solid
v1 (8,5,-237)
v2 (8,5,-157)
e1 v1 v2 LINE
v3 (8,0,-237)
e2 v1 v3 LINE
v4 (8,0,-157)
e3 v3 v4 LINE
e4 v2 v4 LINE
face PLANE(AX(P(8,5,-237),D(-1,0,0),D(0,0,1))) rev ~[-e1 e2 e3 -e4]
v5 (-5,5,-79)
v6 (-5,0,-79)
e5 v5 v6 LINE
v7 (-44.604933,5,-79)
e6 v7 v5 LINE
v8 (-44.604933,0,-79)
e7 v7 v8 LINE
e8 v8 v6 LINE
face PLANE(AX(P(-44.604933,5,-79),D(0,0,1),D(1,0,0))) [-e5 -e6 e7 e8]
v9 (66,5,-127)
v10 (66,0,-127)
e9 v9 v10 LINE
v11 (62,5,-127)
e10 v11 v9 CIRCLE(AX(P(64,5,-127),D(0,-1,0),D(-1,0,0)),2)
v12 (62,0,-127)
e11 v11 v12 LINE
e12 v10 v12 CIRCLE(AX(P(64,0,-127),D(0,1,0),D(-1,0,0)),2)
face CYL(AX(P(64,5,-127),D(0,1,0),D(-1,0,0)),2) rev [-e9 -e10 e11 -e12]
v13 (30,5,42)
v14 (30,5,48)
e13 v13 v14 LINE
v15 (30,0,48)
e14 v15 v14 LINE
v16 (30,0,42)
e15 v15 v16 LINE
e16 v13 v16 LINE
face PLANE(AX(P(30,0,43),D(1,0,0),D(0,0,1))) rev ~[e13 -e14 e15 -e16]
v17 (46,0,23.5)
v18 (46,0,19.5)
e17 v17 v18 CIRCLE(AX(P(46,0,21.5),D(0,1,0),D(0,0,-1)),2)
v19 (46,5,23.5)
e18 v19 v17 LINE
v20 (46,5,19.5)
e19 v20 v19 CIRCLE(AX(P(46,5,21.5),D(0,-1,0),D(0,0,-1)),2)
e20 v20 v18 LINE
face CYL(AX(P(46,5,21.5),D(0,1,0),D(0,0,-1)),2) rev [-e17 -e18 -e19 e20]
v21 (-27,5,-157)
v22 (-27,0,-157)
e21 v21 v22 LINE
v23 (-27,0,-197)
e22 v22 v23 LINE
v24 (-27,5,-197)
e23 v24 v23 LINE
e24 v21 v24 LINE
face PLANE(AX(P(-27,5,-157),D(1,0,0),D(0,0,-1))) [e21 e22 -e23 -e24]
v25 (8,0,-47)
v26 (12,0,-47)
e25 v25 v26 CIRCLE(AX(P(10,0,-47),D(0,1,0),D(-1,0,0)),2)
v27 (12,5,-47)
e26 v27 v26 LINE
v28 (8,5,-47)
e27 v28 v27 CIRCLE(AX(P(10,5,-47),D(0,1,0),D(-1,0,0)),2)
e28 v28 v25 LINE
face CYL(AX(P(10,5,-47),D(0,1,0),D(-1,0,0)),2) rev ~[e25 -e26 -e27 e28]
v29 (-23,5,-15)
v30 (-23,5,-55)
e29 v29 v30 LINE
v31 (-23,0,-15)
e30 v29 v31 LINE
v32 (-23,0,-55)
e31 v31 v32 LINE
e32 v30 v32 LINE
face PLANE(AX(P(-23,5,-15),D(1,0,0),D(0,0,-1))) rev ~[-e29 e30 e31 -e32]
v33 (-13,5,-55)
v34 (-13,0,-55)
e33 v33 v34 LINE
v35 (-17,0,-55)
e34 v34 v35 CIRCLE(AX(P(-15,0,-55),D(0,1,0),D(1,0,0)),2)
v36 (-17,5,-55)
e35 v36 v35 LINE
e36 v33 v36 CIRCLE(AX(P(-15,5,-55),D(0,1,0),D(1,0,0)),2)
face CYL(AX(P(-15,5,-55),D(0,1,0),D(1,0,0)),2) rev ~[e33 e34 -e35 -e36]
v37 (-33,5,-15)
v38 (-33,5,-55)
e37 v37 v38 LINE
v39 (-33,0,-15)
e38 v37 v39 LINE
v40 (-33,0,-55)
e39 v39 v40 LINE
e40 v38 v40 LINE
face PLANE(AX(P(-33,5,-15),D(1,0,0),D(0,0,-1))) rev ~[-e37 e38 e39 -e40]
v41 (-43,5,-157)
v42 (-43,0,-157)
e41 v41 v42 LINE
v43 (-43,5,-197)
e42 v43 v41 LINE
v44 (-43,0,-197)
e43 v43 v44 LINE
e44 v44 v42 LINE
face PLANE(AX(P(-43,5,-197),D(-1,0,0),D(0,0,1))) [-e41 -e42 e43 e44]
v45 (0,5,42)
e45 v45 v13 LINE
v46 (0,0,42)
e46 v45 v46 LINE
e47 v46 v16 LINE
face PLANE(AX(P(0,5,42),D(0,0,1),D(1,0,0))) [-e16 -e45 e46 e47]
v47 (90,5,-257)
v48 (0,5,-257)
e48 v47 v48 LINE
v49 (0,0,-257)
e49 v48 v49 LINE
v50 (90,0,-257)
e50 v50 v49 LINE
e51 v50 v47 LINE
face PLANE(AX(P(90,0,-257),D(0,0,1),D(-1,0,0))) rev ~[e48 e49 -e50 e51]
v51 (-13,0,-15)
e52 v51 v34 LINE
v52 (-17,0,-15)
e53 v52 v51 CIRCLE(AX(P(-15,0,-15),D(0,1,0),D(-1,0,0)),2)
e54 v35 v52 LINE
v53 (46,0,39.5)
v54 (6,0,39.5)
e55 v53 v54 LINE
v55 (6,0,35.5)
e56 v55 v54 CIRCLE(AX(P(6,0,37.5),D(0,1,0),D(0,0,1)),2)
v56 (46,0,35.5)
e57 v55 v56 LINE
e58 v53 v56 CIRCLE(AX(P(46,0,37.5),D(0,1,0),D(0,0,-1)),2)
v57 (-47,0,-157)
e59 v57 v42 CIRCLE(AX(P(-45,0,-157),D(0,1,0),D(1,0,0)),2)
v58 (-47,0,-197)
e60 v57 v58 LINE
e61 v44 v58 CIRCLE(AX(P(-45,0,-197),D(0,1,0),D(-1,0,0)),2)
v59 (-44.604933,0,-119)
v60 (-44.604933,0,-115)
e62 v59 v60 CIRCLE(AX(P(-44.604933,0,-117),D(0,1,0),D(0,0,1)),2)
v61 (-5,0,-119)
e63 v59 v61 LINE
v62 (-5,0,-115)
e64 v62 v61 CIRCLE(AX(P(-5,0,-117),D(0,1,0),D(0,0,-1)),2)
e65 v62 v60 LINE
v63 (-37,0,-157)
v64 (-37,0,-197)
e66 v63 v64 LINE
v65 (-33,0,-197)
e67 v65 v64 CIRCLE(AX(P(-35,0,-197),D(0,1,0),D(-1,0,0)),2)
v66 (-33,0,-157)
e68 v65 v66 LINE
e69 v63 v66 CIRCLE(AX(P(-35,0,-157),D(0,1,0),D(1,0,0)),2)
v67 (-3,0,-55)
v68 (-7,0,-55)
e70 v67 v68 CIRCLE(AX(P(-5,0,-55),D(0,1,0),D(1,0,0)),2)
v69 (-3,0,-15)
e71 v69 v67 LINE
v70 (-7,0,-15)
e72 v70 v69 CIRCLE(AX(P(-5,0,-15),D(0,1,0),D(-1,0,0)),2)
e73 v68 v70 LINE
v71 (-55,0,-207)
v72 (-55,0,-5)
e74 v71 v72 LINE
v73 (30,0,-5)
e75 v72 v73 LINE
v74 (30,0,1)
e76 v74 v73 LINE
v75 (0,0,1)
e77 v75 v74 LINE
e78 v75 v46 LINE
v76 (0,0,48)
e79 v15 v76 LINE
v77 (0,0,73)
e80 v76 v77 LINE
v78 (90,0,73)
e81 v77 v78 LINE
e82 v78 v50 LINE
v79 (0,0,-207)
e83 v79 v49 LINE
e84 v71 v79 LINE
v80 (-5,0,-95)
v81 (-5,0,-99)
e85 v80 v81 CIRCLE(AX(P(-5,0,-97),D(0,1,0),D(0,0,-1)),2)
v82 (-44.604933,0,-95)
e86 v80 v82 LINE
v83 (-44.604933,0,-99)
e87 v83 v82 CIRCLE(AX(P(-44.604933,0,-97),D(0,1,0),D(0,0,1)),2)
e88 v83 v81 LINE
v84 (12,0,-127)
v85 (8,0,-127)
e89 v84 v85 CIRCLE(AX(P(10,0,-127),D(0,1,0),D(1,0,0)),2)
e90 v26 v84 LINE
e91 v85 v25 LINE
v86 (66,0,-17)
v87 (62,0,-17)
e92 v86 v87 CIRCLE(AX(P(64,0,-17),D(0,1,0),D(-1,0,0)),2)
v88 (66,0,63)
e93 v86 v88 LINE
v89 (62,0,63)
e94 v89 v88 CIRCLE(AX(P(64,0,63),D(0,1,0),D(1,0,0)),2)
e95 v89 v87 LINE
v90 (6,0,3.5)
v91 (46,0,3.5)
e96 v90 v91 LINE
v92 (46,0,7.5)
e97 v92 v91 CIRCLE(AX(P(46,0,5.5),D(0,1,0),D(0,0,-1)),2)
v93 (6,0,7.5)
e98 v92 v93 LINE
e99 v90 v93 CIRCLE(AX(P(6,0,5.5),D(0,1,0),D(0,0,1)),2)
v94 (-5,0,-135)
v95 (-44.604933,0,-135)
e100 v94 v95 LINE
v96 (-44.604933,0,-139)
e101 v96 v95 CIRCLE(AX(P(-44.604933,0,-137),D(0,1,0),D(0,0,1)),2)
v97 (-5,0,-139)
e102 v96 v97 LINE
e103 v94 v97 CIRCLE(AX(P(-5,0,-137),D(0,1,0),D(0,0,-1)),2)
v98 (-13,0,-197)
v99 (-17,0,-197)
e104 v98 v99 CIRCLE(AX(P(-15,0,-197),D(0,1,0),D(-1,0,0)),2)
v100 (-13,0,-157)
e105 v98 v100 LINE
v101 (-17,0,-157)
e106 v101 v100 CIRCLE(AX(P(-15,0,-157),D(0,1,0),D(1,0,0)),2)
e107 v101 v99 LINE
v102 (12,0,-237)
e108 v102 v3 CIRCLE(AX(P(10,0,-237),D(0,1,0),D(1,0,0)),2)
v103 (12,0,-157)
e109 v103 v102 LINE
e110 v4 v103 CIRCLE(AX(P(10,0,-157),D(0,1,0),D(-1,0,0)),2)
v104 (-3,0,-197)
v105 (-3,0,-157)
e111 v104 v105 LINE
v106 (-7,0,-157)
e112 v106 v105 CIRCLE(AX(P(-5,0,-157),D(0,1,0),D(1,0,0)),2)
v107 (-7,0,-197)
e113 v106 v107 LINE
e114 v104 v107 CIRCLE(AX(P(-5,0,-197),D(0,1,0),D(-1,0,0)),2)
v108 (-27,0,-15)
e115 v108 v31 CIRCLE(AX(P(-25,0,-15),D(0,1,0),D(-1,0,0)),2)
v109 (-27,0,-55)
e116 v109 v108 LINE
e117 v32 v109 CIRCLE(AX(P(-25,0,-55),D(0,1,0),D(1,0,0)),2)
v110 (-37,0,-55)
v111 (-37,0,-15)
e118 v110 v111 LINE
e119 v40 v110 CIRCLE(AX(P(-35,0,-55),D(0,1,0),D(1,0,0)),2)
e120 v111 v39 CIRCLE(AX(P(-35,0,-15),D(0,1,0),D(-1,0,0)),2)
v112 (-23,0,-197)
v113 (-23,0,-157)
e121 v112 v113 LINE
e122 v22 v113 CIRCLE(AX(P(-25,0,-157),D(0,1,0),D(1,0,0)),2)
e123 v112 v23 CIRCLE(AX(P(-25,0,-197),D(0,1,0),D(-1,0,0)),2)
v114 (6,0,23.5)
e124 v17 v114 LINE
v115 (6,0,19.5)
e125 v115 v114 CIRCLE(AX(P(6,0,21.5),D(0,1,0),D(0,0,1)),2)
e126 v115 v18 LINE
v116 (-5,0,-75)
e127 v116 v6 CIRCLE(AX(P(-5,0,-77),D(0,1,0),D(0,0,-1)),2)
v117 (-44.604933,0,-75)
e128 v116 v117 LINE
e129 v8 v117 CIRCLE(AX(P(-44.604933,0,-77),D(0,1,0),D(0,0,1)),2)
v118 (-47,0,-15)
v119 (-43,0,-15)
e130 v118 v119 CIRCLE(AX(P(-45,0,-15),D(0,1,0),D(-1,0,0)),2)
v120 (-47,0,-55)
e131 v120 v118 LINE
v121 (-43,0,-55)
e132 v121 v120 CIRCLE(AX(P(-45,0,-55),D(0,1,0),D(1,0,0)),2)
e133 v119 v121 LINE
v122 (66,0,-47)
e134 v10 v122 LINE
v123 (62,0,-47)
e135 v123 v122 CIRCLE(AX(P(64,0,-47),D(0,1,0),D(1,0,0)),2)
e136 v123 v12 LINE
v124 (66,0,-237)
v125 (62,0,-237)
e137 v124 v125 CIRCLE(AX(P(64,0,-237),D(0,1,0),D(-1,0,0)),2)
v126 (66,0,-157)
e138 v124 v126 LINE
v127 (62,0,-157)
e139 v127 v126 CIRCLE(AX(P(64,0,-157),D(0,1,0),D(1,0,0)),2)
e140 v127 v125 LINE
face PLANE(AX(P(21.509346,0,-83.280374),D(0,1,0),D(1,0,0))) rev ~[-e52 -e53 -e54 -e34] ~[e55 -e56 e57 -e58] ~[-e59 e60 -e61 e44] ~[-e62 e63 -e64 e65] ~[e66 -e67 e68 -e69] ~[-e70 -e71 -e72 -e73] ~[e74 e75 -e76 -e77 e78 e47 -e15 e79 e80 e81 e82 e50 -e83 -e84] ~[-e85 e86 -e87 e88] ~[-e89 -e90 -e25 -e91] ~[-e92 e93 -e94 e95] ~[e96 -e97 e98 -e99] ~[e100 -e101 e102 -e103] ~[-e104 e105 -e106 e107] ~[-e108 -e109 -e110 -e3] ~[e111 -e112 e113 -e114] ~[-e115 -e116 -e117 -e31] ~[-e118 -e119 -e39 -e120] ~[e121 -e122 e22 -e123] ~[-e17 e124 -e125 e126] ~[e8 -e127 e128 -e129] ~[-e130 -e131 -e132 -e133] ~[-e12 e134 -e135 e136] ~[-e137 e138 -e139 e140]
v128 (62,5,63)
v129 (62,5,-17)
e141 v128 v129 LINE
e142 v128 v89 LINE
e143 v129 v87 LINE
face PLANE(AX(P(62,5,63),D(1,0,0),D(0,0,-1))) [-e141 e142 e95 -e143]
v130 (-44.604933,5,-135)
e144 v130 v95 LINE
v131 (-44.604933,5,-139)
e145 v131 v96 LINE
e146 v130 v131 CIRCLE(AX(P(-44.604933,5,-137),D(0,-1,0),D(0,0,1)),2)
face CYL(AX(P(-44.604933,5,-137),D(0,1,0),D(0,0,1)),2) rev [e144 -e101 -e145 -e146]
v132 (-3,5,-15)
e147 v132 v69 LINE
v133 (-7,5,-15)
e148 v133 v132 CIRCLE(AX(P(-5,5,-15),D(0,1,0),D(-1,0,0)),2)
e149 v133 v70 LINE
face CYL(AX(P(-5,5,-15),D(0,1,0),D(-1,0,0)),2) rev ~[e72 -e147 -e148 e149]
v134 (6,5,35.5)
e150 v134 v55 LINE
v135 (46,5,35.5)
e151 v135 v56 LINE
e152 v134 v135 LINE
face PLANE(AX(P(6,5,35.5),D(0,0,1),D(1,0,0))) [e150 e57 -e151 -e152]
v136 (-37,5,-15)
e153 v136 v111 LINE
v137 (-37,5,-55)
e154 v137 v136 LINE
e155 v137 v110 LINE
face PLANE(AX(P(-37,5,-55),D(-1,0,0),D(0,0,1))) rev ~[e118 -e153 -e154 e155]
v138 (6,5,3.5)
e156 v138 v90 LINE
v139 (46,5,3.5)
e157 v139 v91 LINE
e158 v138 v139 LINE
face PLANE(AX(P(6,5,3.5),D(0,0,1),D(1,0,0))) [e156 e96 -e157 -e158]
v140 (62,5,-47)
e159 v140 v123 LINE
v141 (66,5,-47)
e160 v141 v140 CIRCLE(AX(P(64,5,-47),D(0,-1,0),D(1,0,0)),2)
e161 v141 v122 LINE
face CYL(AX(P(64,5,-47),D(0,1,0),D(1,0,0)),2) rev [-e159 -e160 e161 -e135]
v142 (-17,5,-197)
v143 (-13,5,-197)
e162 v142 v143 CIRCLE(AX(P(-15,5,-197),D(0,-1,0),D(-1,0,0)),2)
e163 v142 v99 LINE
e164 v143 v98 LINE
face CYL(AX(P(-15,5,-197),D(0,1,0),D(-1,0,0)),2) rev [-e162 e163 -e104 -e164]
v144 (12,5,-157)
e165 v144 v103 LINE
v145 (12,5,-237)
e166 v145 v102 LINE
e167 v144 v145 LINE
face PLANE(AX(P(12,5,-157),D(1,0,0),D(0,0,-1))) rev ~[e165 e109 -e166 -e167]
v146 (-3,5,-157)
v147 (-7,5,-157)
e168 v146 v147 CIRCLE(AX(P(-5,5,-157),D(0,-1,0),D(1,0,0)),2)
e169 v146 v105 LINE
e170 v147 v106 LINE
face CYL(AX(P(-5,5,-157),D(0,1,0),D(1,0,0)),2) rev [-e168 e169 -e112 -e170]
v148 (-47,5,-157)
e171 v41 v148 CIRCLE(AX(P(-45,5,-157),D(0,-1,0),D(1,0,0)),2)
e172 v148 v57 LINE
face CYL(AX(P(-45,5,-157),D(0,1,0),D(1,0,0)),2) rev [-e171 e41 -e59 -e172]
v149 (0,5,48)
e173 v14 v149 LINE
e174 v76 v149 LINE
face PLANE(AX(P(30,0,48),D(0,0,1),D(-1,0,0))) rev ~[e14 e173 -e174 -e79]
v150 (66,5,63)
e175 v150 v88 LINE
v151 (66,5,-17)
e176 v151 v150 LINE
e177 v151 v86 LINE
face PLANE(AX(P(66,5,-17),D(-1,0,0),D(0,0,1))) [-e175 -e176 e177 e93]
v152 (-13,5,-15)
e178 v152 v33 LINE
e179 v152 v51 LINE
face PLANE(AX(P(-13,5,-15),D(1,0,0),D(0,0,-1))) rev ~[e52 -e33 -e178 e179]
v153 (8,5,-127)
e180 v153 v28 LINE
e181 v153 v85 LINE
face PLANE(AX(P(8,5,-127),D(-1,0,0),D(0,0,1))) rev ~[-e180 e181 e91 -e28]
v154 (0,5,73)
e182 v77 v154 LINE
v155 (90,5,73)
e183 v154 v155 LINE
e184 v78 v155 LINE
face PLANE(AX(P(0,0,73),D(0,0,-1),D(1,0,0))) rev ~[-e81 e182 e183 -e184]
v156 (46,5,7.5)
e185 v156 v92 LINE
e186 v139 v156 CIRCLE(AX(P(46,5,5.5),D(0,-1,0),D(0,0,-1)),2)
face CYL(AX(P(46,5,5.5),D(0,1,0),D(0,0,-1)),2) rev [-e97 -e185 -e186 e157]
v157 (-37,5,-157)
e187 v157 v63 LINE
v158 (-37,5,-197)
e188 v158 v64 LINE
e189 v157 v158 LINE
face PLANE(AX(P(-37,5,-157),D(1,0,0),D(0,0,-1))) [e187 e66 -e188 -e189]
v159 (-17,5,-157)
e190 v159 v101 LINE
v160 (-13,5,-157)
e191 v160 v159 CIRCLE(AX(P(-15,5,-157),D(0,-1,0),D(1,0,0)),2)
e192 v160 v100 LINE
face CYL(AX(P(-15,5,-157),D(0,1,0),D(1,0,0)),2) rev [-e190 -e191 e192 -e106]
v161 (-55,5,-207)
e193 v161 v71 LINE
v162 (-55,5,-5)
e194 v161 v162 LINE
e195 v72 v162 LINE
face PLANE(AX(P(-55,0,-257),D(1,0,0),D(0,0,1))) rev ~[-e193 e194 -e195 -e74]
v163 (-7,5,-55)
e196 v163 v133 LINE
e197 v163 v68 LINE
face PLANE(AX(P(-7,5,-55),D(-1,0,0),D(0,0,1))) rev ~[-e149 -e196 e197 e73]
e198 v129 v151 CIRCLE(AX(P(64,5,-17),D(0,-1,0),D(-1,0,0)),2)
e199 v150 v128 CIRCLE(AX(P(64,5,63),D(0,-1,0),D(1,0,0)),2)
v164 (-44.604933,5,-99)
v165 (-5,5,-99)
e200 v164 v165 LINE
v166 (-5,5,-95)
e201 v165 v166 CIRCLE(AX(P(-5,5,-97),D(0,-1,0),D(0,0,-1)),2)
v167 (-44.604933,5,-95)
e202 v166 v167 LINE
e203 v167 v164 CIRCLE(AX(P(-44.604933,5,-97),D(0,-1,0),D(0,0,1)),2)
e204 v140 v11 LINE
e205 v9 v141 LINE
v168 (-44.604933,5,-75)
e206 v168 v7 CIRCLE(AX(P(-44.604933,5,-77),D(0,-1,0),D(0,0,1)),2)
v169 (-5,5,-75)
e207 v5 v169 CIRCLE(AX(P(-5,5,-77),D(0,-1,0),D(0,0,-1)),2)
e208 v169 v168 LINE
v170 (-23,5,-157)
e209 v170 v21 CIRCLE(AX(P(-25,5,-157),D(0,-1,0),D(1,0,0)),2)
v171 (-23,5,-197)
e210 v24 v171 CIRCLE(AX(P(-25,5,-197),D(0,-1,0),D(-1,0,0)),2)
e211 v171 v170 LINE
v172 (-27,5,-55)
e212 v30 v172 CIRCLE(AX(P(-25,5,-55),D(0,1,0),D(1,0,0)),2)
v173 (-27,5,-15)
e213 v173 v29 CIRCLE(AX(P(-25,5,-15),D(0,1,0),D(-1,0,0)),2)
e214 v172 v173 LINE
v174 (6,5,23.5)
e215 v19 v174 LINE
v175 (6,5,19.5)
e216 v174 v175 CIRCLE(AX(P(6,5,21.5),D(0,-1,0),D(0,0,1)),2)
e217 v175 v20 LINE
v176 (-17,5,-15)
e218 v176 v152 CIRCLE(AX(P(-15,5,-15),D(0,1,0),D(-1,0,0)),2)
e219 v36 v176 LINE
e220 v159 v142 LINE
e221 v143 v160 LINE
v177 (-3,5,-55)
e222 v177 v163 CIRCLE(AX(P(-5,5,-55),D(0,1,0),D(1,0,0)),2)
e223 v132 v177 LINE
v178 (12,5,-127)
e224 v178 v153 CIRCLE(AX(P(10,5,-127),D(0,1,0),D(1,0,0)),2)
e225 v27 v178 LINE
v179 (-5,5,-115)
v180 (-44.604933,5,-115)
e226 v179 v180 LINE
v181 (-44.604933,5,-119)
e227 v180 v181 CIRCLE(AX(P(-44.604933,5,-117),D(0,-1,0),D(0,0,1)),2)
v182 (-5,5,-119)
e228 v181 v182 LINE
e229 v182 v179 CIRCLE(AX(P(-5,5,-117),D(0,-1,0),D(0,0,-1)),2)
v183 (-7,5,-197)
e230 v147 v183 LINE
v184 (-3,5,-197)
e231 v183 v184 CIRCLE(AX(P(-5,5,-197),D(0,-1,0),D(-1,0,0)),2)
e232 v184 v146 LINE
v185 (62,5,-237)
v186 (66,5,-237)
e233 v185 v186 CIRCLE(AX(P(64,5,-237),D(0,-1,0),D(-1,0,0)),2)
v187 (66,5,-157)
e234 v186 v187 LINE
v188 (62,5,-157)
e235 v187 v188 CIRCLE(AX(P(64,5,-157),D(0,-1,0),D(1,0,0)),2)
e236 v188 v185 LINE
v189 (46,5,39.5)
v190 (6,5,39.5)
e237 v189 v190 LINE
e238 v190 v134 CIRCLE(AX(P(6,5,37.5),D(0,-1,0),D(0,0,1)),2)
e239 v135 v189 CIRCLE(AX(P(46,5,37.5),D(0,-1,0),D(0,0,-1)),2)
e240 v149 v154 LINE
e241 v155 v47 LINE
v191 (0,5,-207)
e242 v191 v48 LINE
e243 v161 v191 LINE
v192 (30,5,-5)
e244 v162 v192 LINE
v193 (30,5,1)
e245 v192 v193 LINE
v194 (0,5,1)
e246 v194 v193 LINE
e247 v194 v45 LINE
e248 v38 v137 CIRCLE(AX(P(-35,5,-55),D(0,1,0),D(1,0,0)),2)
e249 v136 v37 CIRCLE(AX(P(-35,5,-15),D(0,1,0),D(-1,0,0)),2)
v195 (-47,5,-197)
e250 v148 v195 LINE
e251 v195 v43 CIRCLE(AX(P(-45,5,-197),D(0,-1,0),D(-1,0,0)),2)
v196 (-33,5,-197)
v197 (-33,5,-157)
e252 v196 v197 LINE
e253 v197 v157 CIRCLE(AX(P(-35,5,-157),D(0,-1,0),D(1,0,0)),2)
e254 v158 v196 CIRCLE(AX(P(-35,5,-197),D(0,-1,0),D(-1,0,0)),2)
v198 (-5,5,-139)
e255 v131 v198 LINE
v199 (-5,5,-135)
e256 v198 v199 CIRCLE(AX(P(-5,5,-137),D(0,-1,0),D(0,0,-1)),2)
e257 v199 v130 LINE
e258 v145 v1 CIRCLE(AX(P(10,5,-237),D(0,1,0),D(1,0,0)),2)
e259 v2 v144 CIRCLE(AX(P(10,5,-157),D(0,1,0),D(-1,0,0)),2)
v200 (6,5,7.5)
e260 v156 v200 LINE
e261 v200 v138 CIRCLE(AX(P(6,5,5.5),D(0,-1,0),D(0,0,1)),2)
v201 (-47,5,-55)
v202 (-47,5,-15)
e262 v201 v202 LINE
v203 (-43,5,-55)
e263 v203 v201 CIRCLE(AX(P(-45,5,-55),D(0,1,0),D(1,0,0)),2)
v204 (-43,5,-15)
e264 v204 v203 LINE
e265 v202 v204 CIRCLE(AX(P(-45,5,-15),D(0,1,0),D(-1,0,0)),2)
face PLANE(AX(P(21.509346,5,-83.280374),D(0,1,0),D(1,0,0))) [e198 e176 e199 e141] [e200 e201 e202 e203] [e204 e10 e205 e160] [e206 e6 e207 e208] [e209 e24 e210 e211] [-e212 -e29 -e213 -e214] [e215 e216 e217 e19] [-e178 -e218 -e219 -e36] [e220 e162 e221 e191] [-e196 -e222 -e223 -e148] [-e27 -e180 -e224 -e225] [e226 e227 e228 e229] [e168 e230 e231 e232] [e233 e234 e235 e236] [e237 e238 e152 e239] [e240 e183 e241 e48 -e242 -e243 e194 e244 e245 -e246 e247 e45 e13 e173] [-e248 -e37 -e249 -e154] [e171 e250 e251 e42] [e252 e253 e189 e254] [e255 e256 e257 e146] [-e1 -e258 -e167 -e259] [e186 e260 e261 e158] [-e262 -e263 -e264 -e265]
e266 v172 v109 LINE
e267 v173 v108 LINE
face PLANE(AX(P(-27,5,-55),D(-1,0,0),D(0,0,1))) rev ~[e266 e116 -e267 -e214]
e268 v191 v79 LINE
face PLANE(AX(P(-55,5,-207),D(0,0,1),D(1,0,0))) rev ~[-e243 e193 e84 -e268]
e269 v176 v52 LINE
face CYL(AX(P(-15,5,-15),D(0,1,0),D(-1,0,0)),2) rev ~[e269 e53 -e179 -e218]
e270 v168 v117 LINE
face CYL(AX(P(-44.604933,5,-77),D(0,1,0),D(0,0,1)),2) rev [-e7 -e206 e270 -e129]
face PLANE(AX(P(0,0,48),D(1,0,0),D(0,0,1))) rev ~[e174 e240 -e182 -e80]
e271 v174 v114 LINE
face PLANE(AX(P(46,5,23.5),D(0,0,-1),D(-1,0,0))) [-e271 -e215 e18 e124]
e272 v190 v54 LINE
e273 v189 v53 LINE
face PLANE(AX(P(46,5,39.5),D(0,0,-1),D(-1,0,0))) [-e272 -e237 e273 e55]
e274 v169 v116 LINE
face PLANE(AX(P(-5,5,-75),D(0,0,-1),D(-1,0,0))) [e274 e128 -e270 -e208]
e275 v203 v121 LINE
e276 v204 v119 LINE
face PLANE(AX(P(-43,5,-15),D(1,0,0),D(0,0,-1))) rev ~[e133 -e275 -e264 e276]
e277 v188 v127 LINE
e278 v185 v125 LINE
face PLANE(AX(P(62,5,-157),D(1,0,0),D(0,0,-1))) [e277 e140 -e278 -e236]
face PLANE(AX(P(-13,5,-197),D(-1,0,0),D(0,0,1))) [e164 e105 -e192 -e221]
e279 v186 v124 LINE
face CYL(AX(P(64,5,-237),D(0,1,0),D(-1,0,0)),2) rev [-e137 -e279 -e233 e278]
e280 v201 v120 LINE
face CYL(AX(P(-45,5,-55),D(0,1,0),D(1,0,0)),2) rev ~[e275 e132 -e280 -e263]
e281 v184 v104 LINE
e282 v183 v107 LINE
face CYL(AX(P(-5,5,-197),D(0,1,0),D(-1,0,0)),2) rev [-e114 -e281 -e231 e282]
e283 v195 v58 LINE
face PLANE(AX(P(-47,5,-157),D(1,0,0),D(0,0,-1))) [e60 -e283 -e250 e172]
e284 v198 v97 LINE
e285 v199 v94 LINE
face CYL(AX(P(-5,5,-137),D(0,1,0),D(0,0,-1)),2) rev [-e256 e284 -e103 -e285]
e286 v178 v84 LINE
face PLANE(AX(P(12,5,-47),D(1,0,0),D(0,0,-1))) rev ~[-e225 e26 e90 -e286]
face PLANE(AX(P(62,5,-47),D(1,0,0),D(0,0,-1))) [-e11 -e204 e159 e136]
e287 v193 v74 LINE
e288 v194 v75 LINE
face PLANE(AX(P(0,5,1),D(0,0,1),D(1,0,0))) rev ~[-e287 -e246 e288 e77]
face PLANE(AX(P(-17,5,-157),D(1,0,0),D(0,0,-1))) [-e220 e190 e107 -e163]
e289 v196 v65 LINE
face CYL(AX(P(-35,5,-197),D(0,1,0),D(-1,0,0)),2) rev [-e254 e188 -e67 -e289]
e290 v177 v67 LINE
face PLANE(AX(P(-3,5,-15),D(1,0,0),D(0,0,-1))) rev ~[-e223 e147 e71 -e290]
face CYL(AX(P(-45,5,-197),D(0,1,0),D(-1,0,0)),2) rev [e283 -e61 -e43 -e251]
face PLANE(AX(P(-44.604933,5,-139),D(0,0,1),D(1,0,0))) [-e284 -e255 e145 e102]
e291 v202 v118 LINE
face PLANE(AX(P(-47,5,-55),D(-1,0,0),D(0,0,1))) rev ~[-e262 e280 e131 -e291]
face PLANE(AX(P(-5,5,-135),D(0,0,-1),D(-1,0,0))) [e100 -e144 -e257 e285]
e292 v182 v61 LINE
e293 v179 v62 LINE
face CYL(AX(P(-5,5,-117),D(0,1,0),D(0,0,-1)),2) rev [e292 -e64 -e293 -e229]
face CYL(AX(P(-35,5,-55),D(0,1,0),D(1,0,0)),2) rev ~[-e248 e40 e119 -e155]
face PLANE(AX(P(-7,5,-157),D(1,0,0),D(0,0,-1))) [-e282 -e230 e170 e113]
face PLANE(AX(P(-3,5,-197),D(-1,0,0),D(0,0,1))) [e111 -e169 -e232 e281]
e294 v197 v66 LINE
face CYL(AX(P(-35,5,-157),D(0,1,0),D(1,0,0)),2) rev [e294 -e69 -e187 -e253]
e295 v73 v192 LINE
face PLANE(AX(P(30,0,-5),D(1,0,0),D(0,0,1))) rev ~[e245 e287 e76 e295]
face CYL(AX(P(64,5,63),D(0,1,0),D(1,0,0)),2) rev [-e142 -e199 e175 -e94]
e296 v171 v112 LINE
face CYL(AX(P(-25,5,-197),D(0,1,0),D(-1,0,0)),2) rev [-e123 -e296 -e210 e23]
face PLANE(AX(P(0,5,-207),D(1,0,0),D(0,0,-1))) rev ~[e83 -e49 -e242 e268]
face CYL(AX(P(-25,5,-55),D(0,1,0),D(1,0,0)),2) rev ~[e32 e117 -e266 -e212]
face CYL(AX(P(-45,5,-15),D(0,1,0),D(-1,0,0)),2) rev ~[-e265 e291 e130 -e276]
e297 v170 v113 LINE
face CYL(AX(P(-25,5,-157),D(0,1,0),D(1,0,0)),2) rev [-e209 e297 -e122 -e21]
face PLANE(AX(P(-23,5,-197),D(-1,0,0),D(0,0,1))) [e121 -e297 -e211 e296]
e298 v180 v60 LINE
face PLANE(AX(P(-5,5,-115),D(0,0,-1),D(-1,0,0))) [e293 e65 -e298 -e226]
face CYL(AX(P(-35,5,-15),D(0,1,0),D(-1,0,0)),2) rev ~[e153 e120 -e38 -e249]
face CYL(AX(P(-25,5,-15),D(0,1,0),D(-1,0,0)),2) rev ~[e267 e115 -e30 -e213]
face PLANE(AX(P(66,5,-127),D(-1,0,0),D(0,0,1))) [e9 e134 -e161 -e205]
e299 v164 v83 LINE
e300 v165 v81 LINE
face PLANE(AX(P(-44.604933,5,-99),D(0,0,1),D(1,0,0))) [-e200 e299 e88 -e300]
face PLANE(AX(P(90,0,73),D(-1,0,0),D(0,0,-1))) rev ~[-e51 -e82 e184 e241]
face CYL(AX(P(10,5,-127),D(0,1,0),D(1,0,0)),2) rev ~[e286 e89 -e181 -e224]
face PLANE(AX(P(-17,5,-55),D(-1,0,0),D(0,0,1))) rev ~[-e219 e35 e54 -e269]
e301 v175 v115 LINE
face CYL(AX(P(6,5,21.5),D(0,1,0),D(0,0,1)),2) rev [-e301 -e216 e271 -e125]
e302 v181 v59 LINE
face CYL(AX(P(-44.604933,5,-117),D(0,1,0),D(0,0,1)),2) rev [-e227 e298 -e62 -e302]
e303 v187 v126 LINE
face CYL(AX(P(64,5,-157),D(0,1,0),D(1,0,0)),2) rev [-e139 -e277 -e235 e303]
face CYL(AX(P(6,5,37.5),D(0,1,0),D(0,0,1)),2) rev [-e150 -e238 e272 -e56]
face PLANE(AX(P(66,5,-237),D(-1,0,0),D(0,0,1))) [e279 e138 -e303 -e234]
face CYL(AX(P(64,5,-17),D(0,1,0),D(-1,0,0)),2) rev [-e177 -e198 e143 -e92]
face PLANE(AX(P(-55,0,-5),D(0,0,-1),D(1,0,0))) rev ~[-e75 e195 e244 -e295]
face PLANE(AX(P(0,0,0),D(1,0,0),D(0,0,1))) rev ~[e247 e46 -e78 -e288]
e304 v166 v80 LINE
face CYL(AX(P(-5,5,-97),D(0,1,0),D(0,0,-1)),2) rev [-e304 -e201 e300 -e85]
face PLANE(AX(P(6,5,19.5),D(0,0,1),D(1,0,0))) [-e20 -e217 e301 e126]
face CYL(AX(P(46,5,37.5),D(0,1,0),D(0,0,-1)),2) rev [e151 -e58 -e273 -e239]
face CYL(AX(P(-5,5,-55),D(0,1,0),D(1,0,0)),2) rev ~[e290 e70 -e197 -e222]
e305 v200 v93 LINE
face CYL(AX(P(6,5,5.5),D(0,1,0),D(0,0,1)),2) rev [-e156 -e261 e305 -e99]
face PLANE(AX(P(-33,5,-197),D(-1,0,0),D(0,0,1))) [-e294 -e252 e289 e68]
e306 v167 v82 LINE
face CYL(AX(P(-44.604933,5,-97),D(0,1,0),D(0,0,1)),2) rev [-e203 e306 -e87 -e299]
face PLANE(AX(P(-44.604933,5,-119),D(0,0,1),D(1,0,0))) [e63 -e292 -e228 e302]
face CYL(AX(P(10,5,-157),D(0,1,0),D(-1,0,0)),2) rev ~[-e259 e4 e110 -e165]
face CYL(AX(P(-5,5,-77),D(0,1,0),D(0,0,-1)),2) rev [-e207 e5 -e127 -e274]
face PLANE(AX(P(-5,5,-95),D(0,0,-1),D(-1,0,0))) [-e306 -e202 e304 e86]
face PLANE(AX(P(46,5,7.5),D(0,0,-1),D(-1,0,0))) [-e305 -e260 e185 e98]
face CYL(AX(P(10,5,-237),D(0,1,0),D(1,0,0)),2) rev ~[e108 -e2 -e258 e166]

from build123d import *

# Parameters (mm, degrees)
BOSS_EXTRUDE1_DEPTH = 5
SKETCH2_W           = 55
SKETCH2_H           = 50
CUT_EXTRUDE1_DEPTH  = 273.349040755
CUT_EXTRUDE2_DEPTH  = 273.349040755
SKETCH4_W           = 30
SKETCH4_H           = 1
CUT_EXTRUDE3_DEPTH  = 273.349040755
CUT_EXTRUDE4_DEPTH  = 273.349040755
CUT_EXTRUDE5_DEPTH  = 273.349040755
CUT_EXTRUDE6_DEPTH  = 273.349040755


with BuildPart() as part:
    # Sketch1 → Boss-Extrude1 (new body)
    with BuildSketch(Plane(origin=(0, 0, 0), x_dir=(1, 0, 0), z_dir=(0, 1, 0))):
        Polygon((0, 0), (0, -43), (30, -43), (30, -48), (0, -48), (0, -73), (90, -73), (90, 257), (-55, 257), (-55, 5), (0, 5), (30, 5), (30, 0), align=None)
    extrude(amount=BOSS_EXTRUDE1_DEPTH)

    # Sketch2 → Cut-Extrude1 (cut, through all)
    with BuildSketch(Plane(origin=(0, 5, 0), x_dir=(1, 0, 0), z_dir=(0, 1, 0))):
        with Locations((-27.5, 232)):
            Rectangle(SKETCH2_W, SKETCH2_H)
    extrude(amount=-CUT_EXTRUDE1_DEPTH, mode=Mode.SUBTRACT)

    # Sketch3 → Cut-Extrude2 (cut, through all)
    with BuildSketch(Plane(origin=(0, 5, 0), x_dir=(1, 0, 0), z_dir=(0, 1, 0))):
        with BuildLine():
            Line((66, 237), (66, 157))
            ThreePointArc((66, 157), (64, 155), (62, 157))
            Line((62, 157), (62, 237))
            ThreePointArc((62, 237), (64, 239), (66, 237))
        make_face()
        with BuildLine():
            Line((66, 127), (66, 47))
            ThreePointArc((66, 47), (64, 45), (62, 47))
            Line((62, 47), (62, 127))
            ThreePointArc((62, 127), (64, 129), (66, 127))
        make_face()
        with BuildLine():
            Line((66, 17), (66, -63))
            ThreePointArc((66, -63), (64, -65), (62, -63))
            Line((62, -63), (62, 17))
            ThreePointArc((62, 17), (64, 19), (66, 17))
        make_face()
        with BuildLine():
            Line((8, 237), (8, 157))
            ThreePointArc((8, 157), (10, 155), (12, 157))
            Line((12, 157), (12, 237))
            ThreePointArc((12, 237), (10, 239), (8, 237))
        make_face()
        with BuildLine():
            Line((8, 127), (8, 47))
            ThreePointArc((8, 47), (10, 45), (12, 47))
            Line((12, 47), (12, 127))
            ThreePointArc((12, 127), (10, 129), (8, 127))
        make_face()
    extrude(amount=-CUT_EXTRUDE2_DEPTH, mode=Mode.SUBTRACT)

    # Sketch4 → Cut-Extrude3 (cut, through all)
    with BuildSketch(Plane(origin=(0, 5, 0), x_dir=(1, 0, 0), z_dir=(0, 1, 0))):
        with Locations((15, -0.5)):
            Rectangle(SKETCH4_W, SKETCH4_H)
        with Locations((15, -42.5)):
            Rectangle(SKETCH4_W, SKETCH4_H)
    extrude(amount=-CUT_EXTRUDE3_DEPTH, mode=Mode.SUBTRACT)

    # Sketch5 → Cut-Extrude4 (cut, through all)
    with BuildSketch(Plane(origin=(0, 5, 0), x_dir=(1, 0, 0), z_dir=(0, 1, 0))):
        with BuildLine():
            Line((6, -19.5), (46, -19.5))
            ThreePointArc((46, -19.5), (48, -21.5), (46, -23.5))
            Line((46, -23.5), (6, -23.5))
            ThreePointArc((6, -23.5), (4, -21.5), (6, -19.5))
        make_face()
        with BuildLine():
            Line((6, -3.5), (46, -3.5))
            ThreePointArc((46, -3.5), (48, -5.5), (46, -7.5))
            Line((46, -7.5), (6, -7.5))
            ThreePointArc((6, -7.5), (4, -5.5), (6, -3.5))
        make_face()
        with BuildLine():
            Line((6, -35.5), (46, -35.5))
            ThreePointArc((46, -35.5), (48, -37.5), (46, -39.5))
            Line((46, -39.5), (6, -39.5))
            ThreePointArc((6, -39.5), (4, -37.5), (6, -35.5))
        make_face()
    extrude(amount=-CUT_EXTRUDE4_DEPTH, mode=Mode.SUBTRACT)

    # Sketch6 → Cut-Extrude5 (cut, through all)
    with BuildSketch(Plane(origin=(0, 5, 0), x_dir=(1, 0, 0), z_dir=(0, 1, 0))):
        with BuildLine():
            Line((-43, 197), (-43, 157))
            ThreePointArc((-43, 157), (-45, 155), (-47, 157))
            Line((-47, 157), (-47, 197))
            ThreePointArc((-47, 197), (-45, 199), (-43, 197))
        make_face()
        with BuildLine():
            Line((-33, 197), (-33, 157))
            ThreePointArc((-33, 157), (-35, 155), (-37, 157))
            Line((-37, 157), (-37, 197))
            ThreePointArc((-37, 197), (-35, 199), (-33, 197))
        make_face()
        with BuildLine():
            Line((-23, 197), (-23, 157))
            ThreePointArc((-23, 157), (-25, 155), (-27, 157))
            Line((-27, 157), (-27, 197))
            ThreePointArc((-27, 197), (-25, 199), (-23, 197))
        make_face()
        with BuildLine():
            Line((-13, 197), (-13, 157))
            ThreePointArc((-13, 157), (-15, 155), (-17, 157))
            Line((-17, 157), (-17, 197))
            ThreePointArc((-17, 197), (-15, 199), (-13, 197))
        make_face()
        with BuildLine():
            Line((-3, 197), (-3, 157))
            ThreePointArc((-3, 157), (-5, 155), (-7, 157))
            Line((-7, 157), (-7, 197))
            ThreePointArc((-7, 197), (-5, 199), (-3, 197))
        make_face()
        with BuildLine():
            Line((-43, 15), (-43, 55))
            ThreePointArc((-43, 55), (-45, 57), (-47, 55))
            Line((-47, 55), (-47, 15))
            ThreePointArc((-47, 15), (-45, 13), (-43, 15))
        make_face()
        with BuildLine():
            Line((-33, 15), (-33, 55))
            ThreePointArc((-33, 55), (-35, 57), (-37, 55))
            Line((-37, 55), (-37, 15))
            ThreePointArc((-37, 15), (-35, 13), (-33, 15))
        make_face()
        with BuildLine():
            Line((-23, 15), (-23, 55))
            ThreePointArc((-23, 55), (-25, 57), (-27, 55))
            Line((-27, 55), (-27, 15))
            ThreePointArc((-27, 15), (-25, 13), (-23, 15))
        make_face()
        with BuildLine():
            Line((-13, 15), (-13, 55))
            ThreePointArc((-13, 55), (-15, 57), (-17, 55))
            Line((-17, 55), (-17, 15))
            ThreePointArc((-17, 15), (-15, 13), (-13, 15))
        make_face()
        with BuildLine():
            Line((-3, 15), (-3, 55))
            ThreePointArc((-3, 55), (-5, 57), (-7, 55))
            Line((-7, 55), (-7, 15))
            ThreePointArc((-7, 15), (-5, 13), (-3, 15))
        make_face()
    extrude(amount=-CUT_EXTRUDE5_DEPTH, mode=Mode.SUBTRACT)

    # Sketch7 → Cut-Extrude6 (cut, through all)
    with BuildSketch(Plane(origin=(0, 5, 0), x_dir=(1, 0, 0), z_dir=(0, 1, 0))):
        with BuildLine():
            Line((-44.604932944, 139), (-5, 139))
            ThreePointArc((-5, 139), (-3, 137), (-5, 135))
            Line((-5, 135), (-44.604932944, 135))
            ThreePointArc((-44.604932944, 135), (-46.604932944, 137), (-44.604932944, 139))
        make_face()
        with BuildLine():
            Line((-44.604932944, 119), (-5, 119))
            ThreePointArc((-5, 119), (-3, 117), (-5, 115))
            Line((-5, 115), (-44.604932944, 115))
            ThreePointArc((-44.604932944, 115), (-46.604932944, 117), (-44.604932944, 119))
        make_face()
        with BuildLine():
            Line((-44.604932944, 99), (-5, 99))
            ThreePointArc((-5, 99), (-3, 97), (-5, 95))
            Line((-5, 95), (-44.604932944, 95))
            ThreePointArc((-44.604932944, 95), (-46.604932944, 97), (-44.604932944, 99))
        make_face()
        with BuildLine():
            Line((-44.604932944, 79), (-5, 79))
            ThreePointArc((-5, 79), (-3, 77), (-5, 75))
            Line((-5, 75), (-44.604932944, 75))
            ThreePointArc((-44.604932944, 75), (-46.604932944, 77), (-44.604932944, 79))
        make_face()
    extrude(amount=-CUT_EXTRUDE6_DEPTH, mode=Mode.SUBTRACT)


solid = part.part
